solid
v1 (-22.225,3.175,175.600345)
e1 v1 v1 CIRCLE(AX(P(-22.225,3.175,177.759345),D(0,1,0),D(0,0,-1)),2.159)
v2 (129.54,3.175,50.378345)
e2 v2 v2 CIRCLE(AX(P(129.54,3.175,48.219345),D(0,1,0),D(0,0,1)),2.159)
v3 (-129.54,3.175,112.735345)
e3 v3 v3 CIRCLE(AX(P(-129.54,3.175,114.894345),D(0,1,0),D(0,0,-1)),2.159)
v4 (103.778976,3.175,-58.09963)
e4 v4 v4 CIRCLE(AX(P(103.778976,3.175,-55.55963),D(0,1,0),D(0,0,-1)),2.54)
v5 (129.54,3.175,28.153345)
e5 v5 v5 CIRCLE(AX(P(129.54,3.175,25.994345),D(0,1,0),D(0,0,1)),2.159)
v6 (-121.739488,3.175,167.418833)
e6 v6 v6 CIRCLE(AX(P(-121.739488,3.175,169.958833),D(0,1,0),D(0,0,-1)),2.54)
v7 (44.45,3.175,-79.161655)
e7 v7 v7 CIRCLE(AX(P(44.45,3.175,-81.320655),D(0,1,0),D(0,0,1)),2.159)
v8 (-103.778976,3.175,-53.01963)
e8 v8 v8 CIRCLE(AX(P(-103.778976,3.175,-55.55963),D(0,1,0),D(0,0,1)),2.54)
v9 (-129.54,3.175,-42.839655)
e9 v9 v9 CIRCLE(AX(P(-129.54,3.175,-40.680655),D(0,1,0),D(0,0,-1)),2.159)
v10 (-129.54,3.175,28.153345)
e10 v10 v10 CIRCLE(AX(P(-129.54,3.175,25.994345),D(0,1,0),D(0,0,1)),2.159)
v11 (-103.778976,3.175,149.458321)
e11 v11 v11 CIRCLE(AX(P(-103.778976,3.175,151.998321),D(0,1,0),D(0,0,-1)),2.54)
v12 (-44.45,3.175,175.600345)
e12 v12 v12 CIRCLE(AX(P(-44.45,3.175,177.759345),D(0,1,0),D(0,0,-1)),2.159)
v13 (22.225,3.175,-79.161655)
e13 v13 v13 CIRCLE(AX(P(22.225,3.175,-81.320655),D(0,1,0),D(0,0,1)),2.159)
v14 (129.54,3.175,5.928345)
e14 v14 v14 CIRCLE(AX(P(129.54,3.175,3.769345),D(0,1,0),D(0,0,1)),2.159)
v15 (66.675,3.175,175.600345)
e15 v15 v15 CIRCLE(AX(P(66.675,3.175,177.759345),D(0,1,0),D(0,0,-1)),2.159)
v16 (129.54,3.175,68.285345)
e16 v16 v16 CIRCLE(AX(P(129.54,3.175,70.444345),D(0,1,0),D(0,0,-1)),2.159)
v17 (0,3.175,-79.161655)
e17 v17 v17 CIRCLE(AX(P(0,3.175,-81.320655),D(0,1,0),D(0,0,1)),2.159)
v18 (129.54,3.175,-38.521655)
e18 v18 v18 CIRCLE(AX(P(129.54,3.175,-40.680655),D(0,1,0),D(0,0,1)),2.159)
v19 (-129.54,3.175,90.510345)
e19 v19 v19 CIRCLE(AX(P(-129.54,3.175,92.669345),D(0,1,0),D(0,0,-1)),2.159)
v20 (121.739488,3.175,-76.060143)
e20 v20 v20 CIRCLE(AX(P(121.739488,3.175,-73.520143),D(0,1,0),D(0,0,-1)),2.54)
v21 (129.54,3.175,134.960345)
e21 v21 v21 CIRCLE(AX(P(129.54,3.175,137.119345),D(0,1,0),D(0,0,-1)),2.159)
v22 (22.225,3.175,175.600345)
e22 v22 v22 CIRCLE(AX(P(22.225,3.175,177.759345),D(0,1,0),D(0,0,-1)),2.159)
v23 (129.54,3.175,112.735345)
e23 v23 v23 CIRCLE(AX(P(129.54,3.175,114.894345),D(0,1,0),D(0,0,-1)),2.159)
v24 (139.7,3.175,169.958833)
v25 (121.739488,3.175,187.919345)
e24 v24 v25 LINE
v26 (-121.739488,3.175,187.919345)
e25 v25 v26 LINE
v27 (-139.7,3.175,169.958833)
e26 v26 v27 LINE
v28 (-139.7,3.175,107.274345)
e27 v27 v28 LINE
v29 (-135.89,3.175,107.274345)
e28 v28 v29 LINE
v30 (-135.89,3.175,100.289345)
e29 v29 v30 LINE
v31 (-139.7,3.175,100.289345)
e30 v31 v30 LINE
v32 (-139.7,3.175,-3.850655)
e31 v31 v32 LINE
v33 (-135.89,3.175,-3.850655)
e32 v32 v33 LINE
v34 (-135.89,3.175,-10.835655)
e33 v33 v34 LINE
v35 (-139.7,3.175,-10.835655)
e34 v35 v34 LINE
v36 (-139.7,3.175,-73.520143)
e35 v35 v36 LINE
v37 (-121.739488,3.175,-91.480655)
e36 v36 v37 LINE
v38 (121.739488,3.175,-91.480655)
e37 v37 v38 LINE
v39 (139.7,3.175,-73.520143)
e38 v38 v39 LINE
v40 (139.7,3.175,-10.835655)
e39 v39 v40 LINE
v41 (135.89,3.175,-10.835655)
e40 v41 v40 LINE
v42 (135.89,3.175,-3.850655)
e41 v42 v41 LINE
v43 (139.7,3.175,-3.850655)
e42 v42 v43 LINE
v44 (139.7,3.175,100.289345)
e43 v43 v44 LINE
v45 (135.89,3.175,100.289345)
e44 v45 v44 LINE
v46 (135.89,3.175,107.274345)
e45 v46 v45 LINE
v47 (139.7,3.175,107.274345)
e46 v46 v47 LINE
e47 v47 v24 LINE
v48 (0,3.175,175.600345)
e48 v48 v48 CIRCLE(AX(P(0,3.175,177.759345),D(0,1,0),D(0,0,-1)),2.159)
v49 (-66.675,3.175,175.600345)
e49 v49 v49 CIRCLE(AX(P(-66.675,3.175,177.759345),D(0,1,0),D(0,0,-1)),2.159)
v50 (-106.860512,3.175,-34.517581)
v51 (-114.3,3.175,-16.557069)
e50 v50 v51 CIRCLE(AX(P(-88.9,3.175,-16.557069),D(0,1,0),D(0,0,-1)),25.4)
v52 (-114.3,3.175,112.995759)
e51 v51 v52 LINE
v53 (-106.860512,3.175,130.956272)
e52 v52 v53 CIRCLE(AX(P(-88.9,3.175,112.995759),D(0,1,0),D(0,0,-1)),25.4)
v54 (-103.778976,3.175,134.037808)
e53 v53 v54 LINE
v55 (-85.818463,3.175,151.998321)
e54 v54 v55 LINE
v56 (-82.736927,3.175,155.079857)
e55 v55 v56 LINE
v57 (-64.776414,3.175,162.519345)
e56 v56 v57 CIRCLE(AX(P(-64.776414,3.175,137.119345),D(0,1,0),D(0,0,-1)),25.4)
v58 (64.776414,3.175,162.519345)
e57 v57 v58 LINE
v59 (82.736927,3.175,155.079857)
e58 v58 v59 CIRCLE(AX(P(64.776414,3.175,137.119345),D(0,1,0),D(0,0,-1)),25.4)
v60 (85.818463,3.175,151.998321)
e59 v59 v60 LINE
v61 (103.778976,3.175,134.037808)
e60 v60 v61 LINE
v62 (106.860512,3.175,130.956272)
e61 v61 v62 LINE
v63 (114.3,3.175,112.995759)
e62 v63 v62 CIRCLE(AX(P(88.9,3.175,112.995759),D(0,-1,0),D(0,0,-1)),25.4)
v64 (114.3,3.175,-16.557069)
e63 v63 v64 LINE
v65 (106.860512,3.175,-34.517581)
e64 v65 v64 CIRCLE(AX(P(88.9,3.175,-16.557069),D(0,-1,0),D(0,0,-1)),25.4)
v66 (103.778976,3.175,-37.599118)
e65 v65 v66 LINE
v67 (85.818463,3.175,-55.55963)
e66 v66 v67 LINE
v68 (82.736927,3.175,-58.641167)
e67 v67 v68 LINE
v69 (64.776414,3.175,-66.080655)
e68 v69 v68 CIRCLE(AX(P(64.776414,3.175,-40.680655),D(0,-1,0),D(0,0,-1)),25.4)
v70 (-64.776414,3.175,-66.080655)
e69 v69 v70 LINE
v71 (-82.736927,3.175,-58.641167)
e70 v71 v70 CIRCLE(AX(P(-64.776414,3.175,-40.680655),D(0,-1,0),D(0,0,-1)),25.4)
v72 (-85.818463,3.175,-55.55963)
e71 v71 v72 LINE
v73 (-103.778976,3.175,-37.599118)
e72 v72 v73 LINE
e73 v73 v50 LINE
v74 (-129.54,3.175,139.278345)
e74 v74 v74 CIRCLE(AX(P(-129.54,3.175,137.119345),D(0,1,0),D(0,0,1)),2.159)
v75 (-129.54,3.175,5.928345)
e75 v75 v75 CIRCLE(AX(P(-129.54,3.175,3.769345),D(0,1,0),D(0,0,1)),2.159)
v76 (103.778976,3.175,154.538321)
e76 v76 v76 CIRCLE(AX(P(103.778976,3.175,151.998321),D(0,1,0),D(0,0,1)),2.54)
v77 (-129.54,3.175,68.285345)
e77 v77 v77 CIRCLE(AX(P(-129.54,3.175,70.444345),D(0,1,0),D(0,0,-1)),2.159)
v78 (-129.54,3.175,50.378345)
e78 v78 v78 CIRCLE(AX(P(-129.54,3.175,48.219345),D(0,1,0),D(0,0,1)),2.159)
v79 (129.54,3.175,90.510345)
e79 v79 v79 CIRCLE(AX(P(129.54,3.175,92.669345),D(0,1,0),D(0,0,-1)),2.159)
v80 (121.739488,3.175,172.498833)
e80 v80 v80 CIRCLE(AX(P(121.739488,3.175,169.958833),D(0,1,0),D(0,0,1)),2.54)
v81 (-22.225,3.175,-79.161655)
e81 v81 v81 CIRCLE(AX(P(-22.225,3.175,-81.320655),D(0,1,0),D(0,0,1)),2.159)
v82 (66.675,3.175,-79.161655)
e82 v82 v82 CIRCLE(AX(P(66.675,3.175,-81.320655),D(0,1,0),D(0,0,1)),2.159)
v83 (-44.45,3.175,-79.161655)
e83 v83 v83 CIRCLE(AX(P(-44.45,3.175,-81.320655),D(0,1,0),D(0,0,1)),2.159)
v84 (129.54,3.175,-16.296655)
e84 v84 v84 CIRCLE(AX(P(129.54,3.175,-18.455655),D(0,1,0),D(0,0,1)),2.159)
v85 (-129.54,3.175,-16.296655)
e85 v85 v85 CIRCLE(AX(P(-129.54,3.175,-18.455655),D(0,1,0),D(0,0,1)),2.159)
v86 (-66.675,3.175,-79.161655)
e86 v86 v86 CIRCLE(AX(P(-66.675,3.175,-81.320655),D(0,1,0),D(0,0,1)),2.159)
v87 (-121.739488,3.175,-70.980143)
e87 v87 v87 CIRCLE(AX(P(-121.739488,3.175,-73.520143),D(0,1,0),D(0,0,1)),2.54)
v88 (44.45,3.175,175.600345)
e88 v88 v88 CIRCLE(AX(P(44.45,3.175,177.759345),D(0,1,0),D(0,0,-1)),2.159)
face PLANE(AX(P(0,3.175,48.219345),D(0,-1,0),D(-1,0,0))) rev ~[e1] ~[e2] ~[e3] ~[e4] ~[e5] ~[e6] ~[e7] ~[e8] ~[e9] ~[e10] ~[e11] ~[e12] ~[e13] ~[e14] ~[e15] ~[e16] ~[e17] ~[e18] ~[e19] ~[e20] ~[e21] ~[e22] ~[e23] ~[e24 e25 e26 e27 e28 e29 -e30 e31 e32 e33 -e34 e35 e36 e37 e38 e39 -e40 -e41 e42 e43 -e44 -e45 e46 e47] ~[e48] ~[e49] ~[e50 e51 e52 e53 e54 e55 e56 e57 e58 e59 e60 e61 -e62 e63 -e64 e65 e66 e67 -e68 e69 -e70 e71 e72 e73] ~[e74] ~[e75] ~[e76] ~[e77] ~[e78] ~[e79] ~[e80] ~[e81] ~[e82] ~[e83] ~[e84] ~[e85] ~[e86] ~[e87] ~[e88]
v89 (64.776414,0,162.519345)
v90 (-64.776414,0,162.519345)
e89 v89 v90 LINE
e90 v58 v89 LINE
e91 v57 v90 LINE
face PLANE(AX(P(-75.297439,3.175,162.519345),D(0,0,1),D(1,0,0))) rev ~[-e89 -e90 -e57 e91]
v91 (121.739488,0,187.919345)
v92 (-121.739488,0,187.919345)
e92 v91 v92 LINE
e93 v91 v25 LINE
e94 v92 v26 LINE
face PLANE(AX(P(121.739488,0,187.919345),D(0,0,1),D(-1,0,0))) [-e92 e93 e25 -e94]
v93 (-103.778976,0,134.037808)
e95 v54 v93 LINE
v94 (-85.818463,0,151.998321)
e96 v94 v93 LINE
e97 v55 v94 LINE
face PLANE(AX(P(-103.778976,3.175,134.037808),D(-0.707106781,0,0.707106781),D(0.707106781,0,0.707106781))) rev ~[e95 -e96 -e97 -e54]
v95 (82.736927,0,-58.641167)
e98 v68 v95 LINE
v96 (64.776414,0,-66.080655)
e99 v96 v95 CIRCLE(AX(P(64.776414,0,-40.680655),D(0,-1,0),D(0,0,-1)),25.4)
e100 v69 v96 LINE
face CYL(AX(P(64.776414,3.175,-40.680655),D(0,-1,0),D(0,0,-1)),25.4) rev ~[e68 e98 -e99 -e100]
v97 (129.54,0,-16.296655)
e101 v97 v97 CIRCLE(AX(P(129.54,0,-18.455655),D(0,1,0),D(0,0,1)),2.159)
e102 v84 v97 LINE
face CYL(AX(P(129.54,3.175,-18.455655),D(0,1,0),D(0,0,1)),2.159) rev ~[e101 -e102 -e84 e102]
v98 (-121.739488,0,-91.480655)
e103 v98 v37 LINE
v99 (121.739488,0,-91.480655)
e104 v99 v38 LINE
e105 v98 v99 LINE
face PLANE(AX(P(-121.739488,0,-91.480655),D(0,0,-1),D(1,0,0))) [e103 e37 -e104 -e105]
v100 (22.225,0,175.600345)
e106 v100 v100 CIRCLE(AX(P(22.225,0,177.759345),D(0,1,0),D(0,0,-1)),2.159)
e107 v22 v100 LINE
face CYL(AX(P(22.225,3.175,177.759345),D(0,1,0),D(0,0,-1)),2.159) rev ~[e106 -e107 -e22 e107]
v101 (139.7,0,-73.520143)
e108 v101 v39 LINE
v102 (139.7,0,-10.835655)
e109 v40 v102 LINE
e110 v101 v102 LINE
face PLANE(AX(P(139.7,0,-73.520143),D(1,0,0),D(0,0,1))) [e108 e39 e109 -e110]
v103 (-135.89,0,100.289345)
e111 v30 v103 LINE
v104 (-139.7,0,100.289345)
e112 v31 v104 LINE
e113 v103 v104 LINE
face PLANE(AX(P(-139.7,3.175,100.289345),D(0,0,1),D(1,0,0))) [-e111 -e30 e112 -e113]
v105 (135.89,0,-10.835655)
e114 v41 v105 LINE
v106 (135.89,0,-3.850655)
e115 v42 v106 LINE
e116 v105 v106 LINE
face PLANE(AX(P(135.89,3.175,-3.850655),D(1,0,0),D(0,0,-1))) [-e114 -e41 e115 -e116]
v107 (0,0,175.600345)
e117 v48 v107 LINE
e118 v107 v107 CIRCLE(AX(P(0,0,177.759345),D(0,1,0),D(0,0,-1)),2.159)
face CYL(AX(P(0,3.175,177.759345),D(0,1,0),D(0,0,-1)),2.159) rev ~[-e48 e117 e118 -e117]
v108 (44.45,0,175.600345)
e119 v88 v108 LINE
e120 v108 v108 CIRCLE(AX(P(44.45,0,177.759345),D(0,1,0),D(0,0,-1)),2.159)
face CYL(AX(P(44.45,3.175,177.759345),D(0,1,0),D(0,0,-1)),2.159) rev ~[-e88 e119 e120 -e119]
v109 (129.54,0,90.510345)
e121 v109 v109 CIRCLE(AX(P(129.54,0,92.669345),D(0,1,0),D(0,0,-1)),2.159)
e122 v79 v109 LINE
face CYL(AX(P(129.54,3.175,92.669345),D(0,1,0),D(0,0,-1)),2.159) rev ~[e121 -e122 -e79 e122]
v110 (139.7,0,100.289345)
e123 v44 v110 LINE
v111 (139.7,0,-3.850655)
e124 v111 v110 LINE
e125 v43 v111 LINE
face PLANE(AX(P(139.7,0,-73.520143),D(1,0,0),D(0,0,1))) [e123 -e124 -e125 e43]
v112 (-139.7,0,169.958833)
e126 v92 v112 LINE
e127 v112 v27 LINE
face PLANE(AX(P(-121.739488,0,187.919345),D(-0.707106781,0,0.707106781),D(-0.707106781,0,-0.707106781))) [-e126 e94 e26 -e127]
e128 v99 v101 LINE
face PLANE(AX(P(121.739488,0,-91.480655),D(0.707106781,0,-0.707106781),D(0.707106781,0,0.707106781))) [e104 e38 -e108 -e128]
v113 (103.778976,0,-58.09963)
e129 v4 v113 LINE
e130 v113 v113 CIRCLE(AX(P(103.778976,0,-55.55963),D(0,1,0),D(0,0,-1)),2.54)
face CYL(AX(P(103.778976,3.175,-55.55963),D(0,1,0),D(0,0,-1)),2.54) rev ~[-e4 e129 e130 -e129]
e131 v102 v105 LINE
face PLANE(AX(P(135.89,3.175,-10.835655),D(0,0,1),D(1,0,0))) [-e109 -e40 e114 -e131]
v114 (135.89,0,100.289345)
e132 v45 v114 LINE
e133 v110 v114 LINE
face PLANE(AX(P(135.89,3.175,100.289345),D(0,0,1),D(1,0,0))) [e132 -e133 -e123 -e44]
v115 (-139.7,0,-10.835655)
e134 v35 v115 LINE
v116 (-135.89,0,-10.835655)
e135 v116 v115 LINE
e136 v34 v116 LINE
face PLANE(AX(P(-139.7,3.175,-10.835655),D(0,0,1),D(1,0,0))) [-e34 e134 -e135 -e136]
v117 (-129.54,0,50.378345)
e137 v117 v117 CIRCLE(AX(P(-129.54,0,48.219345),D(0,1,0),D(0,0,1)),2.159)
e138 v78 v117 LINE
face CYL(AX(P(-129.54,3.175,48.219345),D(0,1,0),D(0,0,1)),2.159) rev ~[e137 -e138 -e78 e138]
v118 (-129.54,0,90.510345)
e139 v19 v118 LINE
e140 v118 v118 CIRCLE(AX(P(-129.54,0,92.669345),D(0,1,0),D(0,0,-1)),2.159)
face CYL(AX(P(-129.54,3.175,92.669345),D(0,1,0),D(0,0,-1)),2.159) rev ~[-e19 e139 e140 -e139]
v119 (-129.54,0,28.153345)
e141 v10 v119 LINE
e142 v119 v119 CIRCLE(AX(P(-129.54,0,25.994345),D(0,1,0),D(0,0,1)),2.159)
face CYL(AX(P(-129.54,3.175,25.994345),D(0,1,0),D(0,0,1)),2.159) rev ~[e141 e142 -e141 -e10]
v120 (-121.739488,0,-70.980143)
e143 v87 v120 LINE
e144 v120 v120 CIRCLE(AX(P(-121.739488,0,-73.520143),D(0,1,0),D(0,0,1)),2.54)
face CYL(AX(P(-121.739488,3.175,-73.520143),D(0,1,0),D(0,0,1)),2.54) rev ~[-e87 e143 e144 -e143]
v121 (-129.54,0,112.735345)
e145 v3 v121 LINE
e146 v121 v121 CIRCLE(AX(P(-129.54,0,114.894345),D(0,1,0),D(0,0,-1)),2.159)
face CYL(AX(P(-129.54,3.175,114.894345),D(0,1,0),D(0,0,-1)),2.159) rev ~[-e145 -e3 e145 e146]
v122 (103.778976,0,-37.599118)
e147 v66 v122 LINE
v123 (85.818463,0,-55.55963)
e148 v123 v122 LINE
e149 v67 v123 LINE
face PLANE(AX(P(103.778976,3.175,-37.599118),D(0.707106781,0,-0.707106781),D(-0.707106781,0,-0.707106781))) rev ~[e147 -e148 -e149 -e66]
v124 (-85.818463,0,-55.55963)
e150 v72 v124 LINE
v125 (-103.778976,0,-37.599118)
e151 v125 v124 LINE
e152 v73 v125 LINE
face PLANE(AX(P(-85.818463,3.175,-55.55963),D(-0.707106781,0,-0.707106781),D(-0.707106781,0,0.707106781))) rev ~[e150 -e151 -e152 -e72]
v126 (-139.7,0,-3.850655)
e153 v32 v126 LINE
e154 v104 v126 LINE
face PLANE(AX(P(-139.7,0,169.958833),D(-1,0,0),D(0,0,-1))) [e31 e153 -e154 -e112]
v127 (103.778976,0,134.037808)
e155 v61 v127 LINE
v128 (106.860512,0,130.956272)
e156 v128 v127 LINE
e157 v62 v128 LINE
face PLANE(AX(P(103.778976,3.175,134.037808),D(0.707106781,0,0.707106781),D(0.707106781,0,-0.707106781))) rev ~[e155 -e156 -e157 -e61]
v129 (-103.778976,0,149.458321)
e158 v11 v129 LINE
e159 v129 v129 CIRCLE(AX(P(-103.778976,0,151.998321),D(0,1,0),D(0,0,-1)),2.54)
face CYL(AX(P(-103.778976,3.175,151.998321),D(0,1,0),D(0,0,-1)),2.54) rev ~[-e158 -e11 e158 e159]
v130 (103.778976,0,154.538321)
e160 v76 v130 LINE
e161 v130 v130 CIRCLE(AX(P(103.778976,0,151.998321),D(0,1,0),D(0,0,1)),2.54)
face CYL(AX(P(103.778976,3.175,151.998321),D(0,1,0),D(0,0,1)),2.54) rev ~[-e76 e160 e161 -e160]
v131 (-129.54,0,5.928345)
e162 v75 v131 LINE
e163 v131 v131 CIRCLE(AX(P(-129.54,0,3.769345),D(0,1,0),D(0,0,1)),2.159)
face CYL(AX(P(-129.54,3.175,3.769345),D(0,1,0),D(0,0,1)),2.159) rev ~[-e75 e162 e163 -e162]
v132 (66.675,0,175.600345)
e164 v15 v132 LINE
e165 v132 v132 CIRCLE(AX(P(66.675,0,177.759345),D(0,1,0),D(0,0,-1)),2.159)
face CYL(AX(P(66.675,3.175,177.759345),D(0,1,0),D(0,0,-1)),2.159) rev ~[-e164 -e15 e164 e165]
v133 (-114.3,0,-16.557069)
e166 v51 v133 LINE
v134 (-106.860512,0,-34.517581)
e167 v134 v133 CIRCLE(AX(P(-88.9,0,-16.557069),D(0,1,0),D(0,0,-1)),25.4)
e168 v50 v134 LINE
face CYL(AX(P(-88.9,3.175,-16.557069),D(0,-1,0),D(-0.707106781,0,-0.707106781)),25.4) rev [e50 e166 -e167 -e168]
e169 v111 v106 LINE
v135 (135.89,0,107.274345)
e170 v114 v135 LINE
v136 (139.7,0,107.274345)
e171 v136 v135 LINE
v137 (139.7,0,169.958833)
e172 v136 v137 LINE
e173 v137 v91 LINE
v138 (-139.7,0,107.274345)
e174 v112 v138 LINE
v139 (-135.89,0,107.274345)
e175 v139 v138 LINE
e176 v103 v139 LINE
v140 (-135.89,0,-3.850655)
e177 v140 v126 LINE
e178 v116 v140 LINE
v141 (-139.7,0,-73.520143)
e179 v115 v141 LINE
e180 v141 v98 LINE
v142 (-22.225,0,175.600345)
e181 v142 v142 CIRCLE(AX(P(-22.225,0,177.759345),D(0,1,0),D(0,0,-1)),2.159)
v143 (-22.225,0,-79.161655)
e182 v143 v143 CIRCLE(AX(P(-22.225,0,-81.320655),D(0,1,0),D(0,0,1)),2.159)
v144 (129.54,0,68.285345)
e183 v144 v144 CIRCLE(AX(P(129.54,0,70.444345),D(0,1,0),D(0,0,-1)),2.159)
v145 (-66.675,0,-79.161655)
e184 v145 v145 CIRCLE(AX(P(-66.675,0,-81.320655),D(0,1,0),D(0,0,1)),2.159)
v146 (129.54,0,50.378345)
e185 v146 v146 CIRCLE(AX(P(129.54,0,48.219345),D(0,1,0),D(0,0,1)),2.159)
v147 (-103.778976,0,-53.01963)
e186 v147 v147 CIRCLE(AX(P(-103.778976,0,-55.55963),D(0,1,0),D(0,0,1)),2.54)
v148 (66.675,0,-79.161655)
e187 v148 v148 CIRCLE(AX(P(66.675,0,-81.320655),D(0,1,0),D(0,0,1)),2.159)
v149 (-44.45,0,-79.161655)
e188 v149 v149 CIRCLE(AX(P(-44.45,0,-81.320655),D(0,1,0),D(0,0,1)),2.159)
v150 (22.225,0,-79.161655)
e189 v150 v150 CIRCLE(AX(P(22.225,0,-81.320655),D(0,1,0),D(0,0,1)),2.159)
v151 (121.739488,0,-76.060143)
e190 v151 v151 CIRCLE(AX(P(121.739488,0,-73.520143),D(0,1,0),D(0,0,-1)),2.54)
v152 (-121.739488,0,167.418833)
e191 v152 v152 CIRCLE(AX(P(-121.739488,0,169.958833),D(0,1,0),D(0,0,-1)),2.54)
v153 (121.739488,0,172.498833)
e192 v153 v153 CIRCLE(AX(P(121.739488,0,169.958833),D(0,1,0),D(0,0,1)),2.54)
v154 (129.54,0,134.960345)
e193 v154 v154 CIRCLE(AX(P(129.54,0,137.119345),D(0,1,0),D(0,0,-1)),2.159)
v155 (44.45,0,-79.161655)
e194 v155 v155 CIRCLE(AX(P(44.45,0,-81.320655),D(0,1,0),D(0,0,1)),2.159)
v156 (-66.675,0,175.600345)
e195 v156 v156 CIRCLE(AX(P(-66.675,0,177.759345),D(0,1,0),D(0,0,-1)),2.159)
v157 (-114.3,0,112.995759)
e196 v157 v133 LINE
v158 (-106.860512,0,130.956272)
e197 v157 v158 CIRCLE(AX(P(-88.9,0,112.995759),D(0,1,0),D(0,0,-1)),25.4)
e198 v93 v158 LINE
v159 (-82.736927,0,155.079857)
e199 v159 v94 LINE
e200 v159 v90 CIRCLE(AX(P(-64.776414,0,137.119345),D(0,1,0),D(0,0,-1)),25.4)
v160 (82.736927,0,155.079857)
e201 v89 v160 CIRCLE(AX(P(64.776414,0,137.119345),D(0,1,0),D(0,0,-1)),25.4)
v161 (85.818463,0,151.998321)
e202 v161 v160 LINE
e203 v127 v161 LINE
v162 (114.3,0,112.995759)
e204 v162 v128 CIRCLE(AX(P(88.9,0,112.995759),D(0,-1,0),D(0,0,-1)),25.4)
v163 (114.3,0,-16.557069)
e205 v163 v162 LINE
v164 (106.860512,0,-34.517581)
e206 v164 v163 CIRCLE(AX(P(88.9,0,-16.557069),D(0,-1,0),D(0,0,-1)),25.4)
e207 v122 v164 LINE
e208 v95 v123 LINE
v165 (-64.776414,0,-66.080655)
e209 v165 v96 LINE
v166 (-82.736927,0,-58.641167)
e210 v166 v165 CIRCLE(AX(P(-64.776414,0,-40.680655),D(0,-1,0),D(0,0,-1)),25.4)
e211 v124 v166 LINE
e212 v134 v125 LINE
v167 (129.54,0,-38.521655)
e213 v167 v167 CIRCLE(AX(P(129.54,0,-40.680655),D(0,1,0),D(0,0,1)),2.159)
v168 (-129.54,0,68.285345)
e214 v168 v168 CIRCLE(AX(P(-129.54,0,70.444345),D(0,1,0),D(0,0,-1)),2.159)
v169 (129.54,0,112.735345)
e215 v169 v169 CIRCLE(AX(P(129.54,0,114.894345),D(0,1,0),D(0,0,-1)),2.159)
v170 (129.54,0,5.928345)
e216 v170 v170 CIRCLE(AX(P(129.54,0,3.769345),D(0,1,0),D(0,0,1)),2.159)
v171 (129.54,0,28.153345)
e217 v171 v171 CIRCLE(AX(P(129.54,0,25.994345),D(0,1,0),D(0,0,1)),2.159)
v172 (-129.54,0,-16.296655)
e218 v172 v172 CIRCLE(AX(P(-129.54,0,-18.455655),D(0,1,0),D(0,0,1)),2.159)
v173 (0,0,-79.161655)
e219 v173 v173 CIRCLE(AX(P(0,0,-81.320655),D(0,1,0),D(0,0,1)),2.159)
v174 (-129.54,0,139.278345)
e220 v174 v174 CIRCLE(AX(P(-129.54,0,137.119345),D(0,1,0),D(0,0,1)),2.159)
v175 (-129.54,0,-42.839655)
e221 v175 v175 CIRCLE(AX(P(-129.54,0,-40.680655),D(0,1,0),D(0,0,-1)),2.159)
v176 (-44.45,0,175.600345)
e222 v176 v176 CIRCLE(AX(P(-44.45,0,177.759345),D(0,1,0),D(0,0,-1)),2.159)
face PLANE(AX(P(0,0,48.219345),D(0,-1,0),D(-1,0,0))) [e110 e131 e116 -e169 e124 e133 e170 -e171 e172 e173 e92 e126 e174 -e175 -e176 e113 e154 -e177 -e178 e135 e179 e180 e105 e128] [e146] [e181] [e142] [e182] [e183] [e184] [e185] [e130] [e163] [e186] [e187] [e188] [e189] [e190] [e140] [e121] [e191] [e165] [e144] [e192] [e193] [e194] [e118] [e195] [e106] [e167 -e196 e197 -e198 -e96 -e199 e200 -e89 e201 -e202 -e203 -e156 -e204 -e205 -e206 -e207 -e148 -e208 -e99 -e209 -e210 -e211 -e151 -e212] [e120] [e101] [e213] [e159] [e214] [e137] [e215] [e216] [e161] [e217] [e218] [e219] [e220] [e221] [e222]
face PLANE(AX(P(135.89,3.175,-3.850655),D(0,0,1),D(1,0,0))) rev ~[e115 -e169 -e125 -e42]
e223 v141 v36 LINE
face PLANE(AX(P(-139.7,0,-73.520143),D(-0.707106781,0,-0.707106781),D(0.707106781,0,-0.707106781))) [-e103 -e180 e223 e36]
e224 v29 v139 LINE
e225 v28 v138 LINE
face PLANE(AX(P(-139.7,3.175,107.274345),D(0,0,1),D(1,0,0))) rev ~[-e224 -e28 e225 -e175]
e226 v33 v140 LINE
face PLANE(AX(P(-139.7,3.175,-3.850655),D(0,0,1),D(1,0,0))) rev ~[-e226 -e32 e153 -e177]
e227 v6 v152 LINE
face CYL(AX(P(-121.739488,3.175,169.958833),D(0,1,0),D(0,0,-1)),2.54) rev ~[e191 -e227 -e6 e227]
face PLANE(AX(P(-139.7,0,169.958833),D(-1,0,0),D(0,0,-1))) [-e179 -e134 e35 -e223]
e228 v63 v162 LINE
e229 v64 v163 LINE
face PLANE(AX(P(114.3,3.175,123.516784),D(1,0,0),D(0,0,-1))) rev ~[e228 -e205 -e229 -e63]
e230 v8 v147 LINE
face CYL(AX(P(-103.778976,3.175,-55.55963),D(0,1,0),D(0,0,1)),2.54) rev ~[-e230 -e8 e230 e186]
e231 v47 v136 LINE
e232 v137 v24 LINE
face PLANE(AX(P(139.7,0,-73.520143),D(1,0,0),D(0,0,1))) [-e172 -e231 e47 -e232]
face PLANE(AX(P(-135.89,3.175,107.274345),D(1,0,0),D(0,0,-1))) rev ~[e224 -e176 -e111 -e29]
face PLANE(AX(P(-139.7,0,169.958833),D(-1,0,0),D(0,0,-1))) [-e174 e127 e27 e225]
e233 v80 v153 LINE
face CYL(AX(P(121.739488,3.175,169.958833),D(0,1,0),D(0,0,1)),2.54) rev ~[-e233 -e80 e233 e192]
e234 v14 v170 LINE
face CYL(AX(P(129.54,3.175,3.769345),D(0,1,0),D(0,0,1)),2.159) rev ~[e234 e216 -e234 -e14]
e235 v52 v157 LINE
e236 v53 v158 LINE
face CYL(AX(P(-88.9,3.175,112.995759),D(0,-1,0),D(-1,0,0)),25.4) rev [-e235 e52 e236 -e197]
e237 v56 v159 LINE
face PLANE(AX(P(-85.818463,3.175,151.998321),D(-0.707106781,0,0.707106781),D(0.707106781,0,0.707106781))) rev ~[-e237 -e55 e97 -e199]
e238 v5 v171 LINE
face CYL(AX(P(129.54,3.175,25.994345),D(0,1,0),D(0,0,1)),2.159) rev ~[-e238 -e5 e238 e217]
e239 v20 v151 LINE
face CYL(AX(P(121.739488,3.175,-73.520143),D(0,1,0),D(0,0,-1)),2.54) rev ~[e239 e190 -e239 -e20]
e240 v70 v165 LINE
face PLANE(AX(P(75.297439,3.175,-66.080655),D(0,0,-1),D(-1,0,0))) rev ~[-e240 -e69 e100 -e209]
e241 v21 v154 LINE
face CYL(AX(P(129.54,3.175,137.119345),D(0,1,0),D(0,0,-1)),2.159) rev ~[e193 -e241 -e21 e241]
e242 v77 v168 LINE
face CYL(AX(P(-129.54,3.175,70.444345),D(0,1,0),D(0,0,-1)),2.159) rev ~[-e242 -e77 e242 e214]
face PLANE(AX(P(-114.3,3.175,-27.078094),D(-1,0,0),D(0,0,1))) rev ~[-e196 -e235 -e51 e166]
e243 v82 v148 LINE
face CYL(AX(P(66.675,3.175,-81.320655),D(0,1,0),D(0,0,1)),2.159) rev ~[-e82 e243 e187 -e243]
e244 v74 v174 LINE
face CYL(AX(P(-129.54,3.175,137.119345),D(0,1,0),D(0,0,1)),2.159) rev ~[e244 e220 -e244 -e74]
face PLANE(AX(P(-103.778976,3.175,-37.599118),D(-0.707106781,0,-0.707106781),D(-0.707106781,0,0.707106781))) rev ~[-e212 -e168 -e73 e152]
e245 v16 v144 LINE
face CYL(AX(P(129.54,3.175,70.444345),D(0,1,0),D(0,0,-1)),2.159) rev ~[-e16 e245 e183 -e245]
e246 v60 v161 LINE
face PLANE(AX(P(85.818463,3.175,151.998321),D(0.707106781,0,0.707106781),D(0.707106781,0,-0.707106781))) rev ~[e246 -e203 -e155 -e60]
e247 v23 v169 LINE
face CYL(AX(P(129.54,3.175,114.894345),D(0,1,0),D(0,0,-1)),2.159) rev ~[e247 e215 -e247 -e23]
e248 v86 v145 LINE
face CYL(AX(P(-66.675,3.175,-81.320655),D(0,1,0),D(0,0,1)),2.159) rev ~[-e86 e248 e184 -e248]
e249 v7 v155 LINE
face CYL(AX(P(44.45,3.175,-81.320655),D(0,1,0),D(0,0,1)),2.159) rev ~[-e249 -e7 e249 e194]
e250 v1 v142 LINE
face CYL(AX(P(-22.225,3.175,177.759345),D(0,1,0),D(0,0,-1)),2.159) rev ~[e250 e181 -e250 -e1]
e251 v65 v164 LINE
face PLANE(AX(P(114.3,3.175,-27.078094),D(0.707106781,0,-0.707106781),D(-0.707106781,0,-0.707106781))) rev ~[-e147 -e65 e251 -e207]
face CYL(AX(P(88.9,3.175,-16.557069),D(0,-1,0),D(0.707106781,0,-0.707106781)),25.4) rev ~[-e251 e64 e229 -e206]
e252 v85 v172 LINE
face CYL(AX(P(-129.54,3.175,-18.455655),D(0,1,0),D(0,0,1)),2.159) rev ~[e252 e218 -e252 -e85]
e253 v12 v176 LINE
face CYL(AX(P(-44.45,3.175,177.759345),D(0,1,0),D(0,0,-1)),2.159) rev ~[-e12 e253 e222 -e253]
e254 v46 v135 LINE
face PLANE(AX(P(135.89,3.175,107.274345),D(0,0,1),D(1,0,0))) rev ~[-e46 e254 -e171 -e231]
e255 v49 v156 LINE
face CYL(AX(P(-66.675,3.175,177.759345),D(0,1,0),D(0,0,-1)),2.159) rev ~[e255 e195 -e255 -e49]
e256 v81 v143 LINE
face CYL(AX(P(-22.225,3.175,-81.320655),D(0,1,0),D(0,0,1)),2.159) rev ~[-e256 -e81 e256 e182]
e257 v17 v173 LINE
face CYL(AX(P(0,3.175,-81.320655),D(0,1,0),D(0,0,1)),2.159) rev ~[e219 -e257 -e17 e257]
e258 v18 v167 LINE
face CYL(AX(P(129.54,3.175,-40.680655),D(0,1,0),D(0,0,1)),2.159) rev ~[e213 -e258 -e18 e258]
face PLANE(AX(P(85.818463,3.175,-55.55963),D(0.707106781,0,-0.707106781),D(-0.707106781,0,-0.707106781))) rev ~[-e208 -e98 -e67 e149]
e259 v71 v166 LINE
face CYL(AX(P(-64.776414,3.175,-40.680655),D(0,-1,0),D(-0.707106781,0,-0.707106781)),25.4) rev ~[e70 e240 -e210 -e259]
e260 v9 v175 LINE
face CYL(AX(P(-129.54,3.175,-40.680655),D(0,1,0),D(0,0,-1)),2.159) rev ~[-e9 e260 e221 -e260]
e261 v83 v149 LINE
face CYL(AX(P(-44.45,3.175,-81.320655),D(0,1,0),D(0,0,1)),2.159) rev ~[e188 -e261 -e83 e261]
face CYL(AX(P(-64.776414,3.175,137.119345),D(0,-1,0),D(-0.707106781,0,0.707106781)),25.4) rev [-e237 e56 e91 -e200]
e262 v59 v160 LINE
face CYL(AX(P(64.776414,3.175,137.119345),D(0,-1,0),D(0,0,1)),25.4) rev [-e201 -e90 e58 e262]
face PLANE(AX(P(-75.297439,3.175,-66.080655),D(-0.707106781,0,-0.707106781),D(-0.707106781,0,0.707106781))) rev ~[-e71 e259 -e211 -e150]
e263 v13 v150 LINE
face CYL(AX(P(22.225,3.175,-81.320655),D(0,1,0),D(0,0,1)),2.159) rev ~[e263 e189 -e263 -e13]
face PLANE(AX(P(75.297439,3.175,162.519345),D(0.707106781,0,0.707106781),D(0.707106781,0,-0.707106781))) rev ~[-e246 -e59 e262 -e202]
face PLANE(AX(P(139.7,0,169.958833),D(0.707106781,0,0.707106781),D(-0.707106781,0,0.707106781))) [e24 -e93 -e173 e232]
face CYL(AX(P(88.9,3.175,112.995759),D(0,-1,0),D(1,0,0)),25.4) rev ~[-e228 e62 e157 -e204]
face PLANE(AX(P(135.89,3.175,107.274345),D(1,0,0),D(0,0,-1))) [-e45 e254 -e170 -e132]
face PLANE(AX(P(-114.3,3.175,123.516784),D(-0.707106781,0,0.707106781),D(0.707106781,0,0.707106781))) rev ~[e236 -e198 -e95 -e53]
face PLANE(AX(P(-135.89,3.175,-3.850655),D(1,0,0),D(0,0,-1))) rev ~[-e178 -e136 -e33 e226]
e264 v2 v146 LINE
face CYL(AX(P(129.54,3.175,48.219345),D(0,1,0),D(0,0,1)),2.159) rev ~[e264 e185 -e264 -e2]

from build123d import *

# Parameters (mm, degrees)
BOSS_EXTRUDE1_DEPTH = 3.175
CUT_EXTRUDE4_DEPTH  = 235.179100055
SKETCH5_R           = 2.54
CUT_EXTRUDE3_DEPTH  = 235.179100055
SKETCH4_R           = 2.159
CUT_EXTRUDE2_DEPTH  = 235.179100055
FILLET1_R           = 25.4
SKETCH6_W           = 3.81
SKETCH6_H           = 6.985
CUT_EXTRUDE5_DEPTH  = 235.179100055


with BuildPart() as part:
    # Sketch1 → Boss-Extrude1 (new body)
    with BuildSketch(Plane(origin=(0, 0, 0), x_dir=(1, 0, 0), z_dir=(0, 1, 0))):
        Polygon((-139.7, 73.520142619), (-121.739487758, 91.480654861), (121.739487758, 91.480654861), (139.7, 73.520142619), (139.7, -169.958832897), (121.739487758, -187.919345139), (-121.739487758, -187.919345139), (-139.7, -169.958832897), align=None)
    extrude(amount=BOSS_EXTRUDE1_DEPTH)

    # Sketch2 → Cut-Extrude4 (cut, through all)
    with BuildSketch(Plane(origin=(0, 3.175, 0), x_dir=(1, 0, 0), z_dir=(0, 1, 0))):
        Polygon((-103.778975516, 37.599118134), (-114.3, 27.07809365), (-114.3, -123.516783928), (-103.778975516, -134.037808413), (-85.818463274, -151.998320655), (-75.297438789, -162.519345139), (75.297438789, -162.519345139), (85.818463274, -151.998320655), (103.778975516, -134.037808413), (114.3, -123.516783928), (114.3, 27.07809365), (103.778975516, 37.599118134), (85.818463274, 55.559630377), (75.297438789, 66.080654861), (-75.297438789, 66.080654861), (-85.818463274, 55.559630377), align=None)
    extrude(amount=-CUT_EXTRUDE4_DEPTH, mode=Mode.SUBTRACT)

    # Sketch5 → Cut-Extrude3 (cut, through all)
    with BuildSketch(Plane(origin=(0, 3.175, 0), x_dir=(1, 0, 0), z_dir=(0, 1, 0))):
        with Locations((-121.739487758, 73.520142619)):
            Circle(SKETCH5_R)
        with Locations((-103.778975516, 55.559630377)):
            Circle(SKETCH5_R)
        with Locations((103.778975516, 55.559630377)):
            Circle(SKETCH5_R)
        with Locations((121.739487758, 73.520142619)):
            Circle(SKETCH5_R)
        with Locations((121.739487758, -169.958832897)):
            Circle(SKETCH5_R)
        with Locations((103.778975516, -151.998320655)):
            Circle(SKETCH5_R)
        with Locations((-103.778975516, -151.998320655)):
            Circle(SKETCH5_R)
        with Locations((-121.739487758, -169.958832897)):
            Circle(SKETCH5_R)
    extrude(amount=-CUT_EXTRUDE3_DEPTH, mode=Mode.SUBTRACT)

    # Sketch4 → Cut-Extrude2 (cut, through all)
    with BuildSketch(Plane(origin=(0, 3.175, 0), x_dir=(1, 0, 0), z_dir=(0, 1, 0))):
        with Locations((0, 81.320654861)):
            Circle(SKETCH4_R)
        with Locations((-44.45, 81.320654861)):
            Circle(SKETCH4_R)
        with Locations((44.45, 81.320654861)):
            Circle(SKETCH4_R)
        with Locations((-22.225, 81.320654861)):
            Circle(SKETCH4_R)
        with Locations((22.225, 81.320654861)):
            Circle(SKETCH4_R)
        with Locations((-129.54, -48.219345139)):
            Circle(SKETCH4_R)
        with Locations((-129.54, -25.994345139)):
            Circle(SKETCH4_R)
        with Locations((-129.54, -3.769345139)):
            Circle(SKETCH4_R)
        with Locations((129.54, -48.219345139)):
            Circle(SKETCH4_R)
        with Locations((129.54, -25.994345139)):
            Circle(SKETCH4_R)
        with Locations((129.54, -3.769345139)):
            Circle(SKETCH4_R)
        with Locations((129.54, -92.669345139)):
            Circle(SKETCH4_R)
        with Locations((129.54, -70.444345139)):
            Circle(SKETCH4_R)
        with Locations((-129.54, -92.669345139)):
            Circle(SKETCH4_R)
        with Locations((-129.54, -70.444345139)):
            Circle(SKETCH4_R)
        with Locations((22.225, -177.759345139)):
            Circle(SKETCH4_R)
        with Locations((-22.225, -177.759345139)):
            Circle(SKETCH4_R)
        with Locations((44.45, -177.759345139)):
            Circle(SKETCH4_R)
        with Locations((-44.45, -177.759345139)):
            Circle(SKETCH4_R)
        with Locations((0, -177.759345139)):
            Circle(SKETCH4_R)
        with Locations((-66.675, 81.320654861)):
            Circle(SKETCH4_R)
        with Locations((66.675, 81.320654861)):
            Circle(SKETCH4_R)
        with Locations((-129.54, 18.455654861)):
            Circle(SKETCH4_R)
        with Locations((129.54, 18.455654861)):
            Circle(SKETCH4_R)
        with Locations((129.54, -114.894345139)):
            Circle(SKETCH4_R)
        with Locations((66.675, -177.759345139)):
            Circle(SKETCH4_R)
        with Locations((-66.675, -177.759345139)):
            Circle(SKETCH4_R)
        with Locations((-129.54, -114.894345139)):
            Circle(SKETCH4_R)
        with Locations((-129.54, -137.119345139)):
            Circle(SKETCH4_R)
        with Locations((-129.54, 40.680654861)):
            Circle(SKETCH4_R)
        with Locations((129.54, 40.680654861)):
            Circle(SKETCH4_R)
        with Locations((129.54, -137.119345139)):
            Circle(SKETCH4_R)
    extrude(amount=-CUT_EXTRUDE2_DEPTH, mode=Mode.SUBTRACT)

    # Fillet1
    fillet1_edges = [part.edges().sort_by_distance(p)[0] for p in [
        (114.3, 1.5875, 123.516783928),
        (75.297438789, 1.5875, 162.519345139),
        (-75.297438789, 1.5875, 162.519345139),
        (-114.3, 1.5875, 123.516783928),
        (114.3, 1.5875, -27.07809365),
        (75.297438789, 1.5875, -66.080654861),
        (-114.3, 1.5875, -27.07809365),
        (-75.297438789, 1.5875, -66.080654861),
    ]]
    fillet(fillet1_edges, radius=FILLET1_R)

    # Sketch6 → Cut-Extrude5 (cut, through all)
    with BuildSketch(Plane(origin=(0, 3.175, 0), x_dir=(1, 0, 0), z_dir=(0, 1, 0))):
        with Locations((-137.795, 7.343154861)):
            Rectangle(SKETCH6_W, SKETCH6_H)
        with Locations((-137.795, -103.781845139)):
            Rectangle(SKETCH6_W, SKETCH6_H)
        with Locations((137.795, -103.781845139)):
            Rectangle(SKETCH6_W, SKETCH6_H)
        with Locations((137.795, 7.343154861)):
            Rectangle(SKETCH6_W, SKETCH6_H)
    extrude(amount=-CUT_EXTRUDE5_DEPTH, mode=Mode.SUBTRACT)


solid = part.part
